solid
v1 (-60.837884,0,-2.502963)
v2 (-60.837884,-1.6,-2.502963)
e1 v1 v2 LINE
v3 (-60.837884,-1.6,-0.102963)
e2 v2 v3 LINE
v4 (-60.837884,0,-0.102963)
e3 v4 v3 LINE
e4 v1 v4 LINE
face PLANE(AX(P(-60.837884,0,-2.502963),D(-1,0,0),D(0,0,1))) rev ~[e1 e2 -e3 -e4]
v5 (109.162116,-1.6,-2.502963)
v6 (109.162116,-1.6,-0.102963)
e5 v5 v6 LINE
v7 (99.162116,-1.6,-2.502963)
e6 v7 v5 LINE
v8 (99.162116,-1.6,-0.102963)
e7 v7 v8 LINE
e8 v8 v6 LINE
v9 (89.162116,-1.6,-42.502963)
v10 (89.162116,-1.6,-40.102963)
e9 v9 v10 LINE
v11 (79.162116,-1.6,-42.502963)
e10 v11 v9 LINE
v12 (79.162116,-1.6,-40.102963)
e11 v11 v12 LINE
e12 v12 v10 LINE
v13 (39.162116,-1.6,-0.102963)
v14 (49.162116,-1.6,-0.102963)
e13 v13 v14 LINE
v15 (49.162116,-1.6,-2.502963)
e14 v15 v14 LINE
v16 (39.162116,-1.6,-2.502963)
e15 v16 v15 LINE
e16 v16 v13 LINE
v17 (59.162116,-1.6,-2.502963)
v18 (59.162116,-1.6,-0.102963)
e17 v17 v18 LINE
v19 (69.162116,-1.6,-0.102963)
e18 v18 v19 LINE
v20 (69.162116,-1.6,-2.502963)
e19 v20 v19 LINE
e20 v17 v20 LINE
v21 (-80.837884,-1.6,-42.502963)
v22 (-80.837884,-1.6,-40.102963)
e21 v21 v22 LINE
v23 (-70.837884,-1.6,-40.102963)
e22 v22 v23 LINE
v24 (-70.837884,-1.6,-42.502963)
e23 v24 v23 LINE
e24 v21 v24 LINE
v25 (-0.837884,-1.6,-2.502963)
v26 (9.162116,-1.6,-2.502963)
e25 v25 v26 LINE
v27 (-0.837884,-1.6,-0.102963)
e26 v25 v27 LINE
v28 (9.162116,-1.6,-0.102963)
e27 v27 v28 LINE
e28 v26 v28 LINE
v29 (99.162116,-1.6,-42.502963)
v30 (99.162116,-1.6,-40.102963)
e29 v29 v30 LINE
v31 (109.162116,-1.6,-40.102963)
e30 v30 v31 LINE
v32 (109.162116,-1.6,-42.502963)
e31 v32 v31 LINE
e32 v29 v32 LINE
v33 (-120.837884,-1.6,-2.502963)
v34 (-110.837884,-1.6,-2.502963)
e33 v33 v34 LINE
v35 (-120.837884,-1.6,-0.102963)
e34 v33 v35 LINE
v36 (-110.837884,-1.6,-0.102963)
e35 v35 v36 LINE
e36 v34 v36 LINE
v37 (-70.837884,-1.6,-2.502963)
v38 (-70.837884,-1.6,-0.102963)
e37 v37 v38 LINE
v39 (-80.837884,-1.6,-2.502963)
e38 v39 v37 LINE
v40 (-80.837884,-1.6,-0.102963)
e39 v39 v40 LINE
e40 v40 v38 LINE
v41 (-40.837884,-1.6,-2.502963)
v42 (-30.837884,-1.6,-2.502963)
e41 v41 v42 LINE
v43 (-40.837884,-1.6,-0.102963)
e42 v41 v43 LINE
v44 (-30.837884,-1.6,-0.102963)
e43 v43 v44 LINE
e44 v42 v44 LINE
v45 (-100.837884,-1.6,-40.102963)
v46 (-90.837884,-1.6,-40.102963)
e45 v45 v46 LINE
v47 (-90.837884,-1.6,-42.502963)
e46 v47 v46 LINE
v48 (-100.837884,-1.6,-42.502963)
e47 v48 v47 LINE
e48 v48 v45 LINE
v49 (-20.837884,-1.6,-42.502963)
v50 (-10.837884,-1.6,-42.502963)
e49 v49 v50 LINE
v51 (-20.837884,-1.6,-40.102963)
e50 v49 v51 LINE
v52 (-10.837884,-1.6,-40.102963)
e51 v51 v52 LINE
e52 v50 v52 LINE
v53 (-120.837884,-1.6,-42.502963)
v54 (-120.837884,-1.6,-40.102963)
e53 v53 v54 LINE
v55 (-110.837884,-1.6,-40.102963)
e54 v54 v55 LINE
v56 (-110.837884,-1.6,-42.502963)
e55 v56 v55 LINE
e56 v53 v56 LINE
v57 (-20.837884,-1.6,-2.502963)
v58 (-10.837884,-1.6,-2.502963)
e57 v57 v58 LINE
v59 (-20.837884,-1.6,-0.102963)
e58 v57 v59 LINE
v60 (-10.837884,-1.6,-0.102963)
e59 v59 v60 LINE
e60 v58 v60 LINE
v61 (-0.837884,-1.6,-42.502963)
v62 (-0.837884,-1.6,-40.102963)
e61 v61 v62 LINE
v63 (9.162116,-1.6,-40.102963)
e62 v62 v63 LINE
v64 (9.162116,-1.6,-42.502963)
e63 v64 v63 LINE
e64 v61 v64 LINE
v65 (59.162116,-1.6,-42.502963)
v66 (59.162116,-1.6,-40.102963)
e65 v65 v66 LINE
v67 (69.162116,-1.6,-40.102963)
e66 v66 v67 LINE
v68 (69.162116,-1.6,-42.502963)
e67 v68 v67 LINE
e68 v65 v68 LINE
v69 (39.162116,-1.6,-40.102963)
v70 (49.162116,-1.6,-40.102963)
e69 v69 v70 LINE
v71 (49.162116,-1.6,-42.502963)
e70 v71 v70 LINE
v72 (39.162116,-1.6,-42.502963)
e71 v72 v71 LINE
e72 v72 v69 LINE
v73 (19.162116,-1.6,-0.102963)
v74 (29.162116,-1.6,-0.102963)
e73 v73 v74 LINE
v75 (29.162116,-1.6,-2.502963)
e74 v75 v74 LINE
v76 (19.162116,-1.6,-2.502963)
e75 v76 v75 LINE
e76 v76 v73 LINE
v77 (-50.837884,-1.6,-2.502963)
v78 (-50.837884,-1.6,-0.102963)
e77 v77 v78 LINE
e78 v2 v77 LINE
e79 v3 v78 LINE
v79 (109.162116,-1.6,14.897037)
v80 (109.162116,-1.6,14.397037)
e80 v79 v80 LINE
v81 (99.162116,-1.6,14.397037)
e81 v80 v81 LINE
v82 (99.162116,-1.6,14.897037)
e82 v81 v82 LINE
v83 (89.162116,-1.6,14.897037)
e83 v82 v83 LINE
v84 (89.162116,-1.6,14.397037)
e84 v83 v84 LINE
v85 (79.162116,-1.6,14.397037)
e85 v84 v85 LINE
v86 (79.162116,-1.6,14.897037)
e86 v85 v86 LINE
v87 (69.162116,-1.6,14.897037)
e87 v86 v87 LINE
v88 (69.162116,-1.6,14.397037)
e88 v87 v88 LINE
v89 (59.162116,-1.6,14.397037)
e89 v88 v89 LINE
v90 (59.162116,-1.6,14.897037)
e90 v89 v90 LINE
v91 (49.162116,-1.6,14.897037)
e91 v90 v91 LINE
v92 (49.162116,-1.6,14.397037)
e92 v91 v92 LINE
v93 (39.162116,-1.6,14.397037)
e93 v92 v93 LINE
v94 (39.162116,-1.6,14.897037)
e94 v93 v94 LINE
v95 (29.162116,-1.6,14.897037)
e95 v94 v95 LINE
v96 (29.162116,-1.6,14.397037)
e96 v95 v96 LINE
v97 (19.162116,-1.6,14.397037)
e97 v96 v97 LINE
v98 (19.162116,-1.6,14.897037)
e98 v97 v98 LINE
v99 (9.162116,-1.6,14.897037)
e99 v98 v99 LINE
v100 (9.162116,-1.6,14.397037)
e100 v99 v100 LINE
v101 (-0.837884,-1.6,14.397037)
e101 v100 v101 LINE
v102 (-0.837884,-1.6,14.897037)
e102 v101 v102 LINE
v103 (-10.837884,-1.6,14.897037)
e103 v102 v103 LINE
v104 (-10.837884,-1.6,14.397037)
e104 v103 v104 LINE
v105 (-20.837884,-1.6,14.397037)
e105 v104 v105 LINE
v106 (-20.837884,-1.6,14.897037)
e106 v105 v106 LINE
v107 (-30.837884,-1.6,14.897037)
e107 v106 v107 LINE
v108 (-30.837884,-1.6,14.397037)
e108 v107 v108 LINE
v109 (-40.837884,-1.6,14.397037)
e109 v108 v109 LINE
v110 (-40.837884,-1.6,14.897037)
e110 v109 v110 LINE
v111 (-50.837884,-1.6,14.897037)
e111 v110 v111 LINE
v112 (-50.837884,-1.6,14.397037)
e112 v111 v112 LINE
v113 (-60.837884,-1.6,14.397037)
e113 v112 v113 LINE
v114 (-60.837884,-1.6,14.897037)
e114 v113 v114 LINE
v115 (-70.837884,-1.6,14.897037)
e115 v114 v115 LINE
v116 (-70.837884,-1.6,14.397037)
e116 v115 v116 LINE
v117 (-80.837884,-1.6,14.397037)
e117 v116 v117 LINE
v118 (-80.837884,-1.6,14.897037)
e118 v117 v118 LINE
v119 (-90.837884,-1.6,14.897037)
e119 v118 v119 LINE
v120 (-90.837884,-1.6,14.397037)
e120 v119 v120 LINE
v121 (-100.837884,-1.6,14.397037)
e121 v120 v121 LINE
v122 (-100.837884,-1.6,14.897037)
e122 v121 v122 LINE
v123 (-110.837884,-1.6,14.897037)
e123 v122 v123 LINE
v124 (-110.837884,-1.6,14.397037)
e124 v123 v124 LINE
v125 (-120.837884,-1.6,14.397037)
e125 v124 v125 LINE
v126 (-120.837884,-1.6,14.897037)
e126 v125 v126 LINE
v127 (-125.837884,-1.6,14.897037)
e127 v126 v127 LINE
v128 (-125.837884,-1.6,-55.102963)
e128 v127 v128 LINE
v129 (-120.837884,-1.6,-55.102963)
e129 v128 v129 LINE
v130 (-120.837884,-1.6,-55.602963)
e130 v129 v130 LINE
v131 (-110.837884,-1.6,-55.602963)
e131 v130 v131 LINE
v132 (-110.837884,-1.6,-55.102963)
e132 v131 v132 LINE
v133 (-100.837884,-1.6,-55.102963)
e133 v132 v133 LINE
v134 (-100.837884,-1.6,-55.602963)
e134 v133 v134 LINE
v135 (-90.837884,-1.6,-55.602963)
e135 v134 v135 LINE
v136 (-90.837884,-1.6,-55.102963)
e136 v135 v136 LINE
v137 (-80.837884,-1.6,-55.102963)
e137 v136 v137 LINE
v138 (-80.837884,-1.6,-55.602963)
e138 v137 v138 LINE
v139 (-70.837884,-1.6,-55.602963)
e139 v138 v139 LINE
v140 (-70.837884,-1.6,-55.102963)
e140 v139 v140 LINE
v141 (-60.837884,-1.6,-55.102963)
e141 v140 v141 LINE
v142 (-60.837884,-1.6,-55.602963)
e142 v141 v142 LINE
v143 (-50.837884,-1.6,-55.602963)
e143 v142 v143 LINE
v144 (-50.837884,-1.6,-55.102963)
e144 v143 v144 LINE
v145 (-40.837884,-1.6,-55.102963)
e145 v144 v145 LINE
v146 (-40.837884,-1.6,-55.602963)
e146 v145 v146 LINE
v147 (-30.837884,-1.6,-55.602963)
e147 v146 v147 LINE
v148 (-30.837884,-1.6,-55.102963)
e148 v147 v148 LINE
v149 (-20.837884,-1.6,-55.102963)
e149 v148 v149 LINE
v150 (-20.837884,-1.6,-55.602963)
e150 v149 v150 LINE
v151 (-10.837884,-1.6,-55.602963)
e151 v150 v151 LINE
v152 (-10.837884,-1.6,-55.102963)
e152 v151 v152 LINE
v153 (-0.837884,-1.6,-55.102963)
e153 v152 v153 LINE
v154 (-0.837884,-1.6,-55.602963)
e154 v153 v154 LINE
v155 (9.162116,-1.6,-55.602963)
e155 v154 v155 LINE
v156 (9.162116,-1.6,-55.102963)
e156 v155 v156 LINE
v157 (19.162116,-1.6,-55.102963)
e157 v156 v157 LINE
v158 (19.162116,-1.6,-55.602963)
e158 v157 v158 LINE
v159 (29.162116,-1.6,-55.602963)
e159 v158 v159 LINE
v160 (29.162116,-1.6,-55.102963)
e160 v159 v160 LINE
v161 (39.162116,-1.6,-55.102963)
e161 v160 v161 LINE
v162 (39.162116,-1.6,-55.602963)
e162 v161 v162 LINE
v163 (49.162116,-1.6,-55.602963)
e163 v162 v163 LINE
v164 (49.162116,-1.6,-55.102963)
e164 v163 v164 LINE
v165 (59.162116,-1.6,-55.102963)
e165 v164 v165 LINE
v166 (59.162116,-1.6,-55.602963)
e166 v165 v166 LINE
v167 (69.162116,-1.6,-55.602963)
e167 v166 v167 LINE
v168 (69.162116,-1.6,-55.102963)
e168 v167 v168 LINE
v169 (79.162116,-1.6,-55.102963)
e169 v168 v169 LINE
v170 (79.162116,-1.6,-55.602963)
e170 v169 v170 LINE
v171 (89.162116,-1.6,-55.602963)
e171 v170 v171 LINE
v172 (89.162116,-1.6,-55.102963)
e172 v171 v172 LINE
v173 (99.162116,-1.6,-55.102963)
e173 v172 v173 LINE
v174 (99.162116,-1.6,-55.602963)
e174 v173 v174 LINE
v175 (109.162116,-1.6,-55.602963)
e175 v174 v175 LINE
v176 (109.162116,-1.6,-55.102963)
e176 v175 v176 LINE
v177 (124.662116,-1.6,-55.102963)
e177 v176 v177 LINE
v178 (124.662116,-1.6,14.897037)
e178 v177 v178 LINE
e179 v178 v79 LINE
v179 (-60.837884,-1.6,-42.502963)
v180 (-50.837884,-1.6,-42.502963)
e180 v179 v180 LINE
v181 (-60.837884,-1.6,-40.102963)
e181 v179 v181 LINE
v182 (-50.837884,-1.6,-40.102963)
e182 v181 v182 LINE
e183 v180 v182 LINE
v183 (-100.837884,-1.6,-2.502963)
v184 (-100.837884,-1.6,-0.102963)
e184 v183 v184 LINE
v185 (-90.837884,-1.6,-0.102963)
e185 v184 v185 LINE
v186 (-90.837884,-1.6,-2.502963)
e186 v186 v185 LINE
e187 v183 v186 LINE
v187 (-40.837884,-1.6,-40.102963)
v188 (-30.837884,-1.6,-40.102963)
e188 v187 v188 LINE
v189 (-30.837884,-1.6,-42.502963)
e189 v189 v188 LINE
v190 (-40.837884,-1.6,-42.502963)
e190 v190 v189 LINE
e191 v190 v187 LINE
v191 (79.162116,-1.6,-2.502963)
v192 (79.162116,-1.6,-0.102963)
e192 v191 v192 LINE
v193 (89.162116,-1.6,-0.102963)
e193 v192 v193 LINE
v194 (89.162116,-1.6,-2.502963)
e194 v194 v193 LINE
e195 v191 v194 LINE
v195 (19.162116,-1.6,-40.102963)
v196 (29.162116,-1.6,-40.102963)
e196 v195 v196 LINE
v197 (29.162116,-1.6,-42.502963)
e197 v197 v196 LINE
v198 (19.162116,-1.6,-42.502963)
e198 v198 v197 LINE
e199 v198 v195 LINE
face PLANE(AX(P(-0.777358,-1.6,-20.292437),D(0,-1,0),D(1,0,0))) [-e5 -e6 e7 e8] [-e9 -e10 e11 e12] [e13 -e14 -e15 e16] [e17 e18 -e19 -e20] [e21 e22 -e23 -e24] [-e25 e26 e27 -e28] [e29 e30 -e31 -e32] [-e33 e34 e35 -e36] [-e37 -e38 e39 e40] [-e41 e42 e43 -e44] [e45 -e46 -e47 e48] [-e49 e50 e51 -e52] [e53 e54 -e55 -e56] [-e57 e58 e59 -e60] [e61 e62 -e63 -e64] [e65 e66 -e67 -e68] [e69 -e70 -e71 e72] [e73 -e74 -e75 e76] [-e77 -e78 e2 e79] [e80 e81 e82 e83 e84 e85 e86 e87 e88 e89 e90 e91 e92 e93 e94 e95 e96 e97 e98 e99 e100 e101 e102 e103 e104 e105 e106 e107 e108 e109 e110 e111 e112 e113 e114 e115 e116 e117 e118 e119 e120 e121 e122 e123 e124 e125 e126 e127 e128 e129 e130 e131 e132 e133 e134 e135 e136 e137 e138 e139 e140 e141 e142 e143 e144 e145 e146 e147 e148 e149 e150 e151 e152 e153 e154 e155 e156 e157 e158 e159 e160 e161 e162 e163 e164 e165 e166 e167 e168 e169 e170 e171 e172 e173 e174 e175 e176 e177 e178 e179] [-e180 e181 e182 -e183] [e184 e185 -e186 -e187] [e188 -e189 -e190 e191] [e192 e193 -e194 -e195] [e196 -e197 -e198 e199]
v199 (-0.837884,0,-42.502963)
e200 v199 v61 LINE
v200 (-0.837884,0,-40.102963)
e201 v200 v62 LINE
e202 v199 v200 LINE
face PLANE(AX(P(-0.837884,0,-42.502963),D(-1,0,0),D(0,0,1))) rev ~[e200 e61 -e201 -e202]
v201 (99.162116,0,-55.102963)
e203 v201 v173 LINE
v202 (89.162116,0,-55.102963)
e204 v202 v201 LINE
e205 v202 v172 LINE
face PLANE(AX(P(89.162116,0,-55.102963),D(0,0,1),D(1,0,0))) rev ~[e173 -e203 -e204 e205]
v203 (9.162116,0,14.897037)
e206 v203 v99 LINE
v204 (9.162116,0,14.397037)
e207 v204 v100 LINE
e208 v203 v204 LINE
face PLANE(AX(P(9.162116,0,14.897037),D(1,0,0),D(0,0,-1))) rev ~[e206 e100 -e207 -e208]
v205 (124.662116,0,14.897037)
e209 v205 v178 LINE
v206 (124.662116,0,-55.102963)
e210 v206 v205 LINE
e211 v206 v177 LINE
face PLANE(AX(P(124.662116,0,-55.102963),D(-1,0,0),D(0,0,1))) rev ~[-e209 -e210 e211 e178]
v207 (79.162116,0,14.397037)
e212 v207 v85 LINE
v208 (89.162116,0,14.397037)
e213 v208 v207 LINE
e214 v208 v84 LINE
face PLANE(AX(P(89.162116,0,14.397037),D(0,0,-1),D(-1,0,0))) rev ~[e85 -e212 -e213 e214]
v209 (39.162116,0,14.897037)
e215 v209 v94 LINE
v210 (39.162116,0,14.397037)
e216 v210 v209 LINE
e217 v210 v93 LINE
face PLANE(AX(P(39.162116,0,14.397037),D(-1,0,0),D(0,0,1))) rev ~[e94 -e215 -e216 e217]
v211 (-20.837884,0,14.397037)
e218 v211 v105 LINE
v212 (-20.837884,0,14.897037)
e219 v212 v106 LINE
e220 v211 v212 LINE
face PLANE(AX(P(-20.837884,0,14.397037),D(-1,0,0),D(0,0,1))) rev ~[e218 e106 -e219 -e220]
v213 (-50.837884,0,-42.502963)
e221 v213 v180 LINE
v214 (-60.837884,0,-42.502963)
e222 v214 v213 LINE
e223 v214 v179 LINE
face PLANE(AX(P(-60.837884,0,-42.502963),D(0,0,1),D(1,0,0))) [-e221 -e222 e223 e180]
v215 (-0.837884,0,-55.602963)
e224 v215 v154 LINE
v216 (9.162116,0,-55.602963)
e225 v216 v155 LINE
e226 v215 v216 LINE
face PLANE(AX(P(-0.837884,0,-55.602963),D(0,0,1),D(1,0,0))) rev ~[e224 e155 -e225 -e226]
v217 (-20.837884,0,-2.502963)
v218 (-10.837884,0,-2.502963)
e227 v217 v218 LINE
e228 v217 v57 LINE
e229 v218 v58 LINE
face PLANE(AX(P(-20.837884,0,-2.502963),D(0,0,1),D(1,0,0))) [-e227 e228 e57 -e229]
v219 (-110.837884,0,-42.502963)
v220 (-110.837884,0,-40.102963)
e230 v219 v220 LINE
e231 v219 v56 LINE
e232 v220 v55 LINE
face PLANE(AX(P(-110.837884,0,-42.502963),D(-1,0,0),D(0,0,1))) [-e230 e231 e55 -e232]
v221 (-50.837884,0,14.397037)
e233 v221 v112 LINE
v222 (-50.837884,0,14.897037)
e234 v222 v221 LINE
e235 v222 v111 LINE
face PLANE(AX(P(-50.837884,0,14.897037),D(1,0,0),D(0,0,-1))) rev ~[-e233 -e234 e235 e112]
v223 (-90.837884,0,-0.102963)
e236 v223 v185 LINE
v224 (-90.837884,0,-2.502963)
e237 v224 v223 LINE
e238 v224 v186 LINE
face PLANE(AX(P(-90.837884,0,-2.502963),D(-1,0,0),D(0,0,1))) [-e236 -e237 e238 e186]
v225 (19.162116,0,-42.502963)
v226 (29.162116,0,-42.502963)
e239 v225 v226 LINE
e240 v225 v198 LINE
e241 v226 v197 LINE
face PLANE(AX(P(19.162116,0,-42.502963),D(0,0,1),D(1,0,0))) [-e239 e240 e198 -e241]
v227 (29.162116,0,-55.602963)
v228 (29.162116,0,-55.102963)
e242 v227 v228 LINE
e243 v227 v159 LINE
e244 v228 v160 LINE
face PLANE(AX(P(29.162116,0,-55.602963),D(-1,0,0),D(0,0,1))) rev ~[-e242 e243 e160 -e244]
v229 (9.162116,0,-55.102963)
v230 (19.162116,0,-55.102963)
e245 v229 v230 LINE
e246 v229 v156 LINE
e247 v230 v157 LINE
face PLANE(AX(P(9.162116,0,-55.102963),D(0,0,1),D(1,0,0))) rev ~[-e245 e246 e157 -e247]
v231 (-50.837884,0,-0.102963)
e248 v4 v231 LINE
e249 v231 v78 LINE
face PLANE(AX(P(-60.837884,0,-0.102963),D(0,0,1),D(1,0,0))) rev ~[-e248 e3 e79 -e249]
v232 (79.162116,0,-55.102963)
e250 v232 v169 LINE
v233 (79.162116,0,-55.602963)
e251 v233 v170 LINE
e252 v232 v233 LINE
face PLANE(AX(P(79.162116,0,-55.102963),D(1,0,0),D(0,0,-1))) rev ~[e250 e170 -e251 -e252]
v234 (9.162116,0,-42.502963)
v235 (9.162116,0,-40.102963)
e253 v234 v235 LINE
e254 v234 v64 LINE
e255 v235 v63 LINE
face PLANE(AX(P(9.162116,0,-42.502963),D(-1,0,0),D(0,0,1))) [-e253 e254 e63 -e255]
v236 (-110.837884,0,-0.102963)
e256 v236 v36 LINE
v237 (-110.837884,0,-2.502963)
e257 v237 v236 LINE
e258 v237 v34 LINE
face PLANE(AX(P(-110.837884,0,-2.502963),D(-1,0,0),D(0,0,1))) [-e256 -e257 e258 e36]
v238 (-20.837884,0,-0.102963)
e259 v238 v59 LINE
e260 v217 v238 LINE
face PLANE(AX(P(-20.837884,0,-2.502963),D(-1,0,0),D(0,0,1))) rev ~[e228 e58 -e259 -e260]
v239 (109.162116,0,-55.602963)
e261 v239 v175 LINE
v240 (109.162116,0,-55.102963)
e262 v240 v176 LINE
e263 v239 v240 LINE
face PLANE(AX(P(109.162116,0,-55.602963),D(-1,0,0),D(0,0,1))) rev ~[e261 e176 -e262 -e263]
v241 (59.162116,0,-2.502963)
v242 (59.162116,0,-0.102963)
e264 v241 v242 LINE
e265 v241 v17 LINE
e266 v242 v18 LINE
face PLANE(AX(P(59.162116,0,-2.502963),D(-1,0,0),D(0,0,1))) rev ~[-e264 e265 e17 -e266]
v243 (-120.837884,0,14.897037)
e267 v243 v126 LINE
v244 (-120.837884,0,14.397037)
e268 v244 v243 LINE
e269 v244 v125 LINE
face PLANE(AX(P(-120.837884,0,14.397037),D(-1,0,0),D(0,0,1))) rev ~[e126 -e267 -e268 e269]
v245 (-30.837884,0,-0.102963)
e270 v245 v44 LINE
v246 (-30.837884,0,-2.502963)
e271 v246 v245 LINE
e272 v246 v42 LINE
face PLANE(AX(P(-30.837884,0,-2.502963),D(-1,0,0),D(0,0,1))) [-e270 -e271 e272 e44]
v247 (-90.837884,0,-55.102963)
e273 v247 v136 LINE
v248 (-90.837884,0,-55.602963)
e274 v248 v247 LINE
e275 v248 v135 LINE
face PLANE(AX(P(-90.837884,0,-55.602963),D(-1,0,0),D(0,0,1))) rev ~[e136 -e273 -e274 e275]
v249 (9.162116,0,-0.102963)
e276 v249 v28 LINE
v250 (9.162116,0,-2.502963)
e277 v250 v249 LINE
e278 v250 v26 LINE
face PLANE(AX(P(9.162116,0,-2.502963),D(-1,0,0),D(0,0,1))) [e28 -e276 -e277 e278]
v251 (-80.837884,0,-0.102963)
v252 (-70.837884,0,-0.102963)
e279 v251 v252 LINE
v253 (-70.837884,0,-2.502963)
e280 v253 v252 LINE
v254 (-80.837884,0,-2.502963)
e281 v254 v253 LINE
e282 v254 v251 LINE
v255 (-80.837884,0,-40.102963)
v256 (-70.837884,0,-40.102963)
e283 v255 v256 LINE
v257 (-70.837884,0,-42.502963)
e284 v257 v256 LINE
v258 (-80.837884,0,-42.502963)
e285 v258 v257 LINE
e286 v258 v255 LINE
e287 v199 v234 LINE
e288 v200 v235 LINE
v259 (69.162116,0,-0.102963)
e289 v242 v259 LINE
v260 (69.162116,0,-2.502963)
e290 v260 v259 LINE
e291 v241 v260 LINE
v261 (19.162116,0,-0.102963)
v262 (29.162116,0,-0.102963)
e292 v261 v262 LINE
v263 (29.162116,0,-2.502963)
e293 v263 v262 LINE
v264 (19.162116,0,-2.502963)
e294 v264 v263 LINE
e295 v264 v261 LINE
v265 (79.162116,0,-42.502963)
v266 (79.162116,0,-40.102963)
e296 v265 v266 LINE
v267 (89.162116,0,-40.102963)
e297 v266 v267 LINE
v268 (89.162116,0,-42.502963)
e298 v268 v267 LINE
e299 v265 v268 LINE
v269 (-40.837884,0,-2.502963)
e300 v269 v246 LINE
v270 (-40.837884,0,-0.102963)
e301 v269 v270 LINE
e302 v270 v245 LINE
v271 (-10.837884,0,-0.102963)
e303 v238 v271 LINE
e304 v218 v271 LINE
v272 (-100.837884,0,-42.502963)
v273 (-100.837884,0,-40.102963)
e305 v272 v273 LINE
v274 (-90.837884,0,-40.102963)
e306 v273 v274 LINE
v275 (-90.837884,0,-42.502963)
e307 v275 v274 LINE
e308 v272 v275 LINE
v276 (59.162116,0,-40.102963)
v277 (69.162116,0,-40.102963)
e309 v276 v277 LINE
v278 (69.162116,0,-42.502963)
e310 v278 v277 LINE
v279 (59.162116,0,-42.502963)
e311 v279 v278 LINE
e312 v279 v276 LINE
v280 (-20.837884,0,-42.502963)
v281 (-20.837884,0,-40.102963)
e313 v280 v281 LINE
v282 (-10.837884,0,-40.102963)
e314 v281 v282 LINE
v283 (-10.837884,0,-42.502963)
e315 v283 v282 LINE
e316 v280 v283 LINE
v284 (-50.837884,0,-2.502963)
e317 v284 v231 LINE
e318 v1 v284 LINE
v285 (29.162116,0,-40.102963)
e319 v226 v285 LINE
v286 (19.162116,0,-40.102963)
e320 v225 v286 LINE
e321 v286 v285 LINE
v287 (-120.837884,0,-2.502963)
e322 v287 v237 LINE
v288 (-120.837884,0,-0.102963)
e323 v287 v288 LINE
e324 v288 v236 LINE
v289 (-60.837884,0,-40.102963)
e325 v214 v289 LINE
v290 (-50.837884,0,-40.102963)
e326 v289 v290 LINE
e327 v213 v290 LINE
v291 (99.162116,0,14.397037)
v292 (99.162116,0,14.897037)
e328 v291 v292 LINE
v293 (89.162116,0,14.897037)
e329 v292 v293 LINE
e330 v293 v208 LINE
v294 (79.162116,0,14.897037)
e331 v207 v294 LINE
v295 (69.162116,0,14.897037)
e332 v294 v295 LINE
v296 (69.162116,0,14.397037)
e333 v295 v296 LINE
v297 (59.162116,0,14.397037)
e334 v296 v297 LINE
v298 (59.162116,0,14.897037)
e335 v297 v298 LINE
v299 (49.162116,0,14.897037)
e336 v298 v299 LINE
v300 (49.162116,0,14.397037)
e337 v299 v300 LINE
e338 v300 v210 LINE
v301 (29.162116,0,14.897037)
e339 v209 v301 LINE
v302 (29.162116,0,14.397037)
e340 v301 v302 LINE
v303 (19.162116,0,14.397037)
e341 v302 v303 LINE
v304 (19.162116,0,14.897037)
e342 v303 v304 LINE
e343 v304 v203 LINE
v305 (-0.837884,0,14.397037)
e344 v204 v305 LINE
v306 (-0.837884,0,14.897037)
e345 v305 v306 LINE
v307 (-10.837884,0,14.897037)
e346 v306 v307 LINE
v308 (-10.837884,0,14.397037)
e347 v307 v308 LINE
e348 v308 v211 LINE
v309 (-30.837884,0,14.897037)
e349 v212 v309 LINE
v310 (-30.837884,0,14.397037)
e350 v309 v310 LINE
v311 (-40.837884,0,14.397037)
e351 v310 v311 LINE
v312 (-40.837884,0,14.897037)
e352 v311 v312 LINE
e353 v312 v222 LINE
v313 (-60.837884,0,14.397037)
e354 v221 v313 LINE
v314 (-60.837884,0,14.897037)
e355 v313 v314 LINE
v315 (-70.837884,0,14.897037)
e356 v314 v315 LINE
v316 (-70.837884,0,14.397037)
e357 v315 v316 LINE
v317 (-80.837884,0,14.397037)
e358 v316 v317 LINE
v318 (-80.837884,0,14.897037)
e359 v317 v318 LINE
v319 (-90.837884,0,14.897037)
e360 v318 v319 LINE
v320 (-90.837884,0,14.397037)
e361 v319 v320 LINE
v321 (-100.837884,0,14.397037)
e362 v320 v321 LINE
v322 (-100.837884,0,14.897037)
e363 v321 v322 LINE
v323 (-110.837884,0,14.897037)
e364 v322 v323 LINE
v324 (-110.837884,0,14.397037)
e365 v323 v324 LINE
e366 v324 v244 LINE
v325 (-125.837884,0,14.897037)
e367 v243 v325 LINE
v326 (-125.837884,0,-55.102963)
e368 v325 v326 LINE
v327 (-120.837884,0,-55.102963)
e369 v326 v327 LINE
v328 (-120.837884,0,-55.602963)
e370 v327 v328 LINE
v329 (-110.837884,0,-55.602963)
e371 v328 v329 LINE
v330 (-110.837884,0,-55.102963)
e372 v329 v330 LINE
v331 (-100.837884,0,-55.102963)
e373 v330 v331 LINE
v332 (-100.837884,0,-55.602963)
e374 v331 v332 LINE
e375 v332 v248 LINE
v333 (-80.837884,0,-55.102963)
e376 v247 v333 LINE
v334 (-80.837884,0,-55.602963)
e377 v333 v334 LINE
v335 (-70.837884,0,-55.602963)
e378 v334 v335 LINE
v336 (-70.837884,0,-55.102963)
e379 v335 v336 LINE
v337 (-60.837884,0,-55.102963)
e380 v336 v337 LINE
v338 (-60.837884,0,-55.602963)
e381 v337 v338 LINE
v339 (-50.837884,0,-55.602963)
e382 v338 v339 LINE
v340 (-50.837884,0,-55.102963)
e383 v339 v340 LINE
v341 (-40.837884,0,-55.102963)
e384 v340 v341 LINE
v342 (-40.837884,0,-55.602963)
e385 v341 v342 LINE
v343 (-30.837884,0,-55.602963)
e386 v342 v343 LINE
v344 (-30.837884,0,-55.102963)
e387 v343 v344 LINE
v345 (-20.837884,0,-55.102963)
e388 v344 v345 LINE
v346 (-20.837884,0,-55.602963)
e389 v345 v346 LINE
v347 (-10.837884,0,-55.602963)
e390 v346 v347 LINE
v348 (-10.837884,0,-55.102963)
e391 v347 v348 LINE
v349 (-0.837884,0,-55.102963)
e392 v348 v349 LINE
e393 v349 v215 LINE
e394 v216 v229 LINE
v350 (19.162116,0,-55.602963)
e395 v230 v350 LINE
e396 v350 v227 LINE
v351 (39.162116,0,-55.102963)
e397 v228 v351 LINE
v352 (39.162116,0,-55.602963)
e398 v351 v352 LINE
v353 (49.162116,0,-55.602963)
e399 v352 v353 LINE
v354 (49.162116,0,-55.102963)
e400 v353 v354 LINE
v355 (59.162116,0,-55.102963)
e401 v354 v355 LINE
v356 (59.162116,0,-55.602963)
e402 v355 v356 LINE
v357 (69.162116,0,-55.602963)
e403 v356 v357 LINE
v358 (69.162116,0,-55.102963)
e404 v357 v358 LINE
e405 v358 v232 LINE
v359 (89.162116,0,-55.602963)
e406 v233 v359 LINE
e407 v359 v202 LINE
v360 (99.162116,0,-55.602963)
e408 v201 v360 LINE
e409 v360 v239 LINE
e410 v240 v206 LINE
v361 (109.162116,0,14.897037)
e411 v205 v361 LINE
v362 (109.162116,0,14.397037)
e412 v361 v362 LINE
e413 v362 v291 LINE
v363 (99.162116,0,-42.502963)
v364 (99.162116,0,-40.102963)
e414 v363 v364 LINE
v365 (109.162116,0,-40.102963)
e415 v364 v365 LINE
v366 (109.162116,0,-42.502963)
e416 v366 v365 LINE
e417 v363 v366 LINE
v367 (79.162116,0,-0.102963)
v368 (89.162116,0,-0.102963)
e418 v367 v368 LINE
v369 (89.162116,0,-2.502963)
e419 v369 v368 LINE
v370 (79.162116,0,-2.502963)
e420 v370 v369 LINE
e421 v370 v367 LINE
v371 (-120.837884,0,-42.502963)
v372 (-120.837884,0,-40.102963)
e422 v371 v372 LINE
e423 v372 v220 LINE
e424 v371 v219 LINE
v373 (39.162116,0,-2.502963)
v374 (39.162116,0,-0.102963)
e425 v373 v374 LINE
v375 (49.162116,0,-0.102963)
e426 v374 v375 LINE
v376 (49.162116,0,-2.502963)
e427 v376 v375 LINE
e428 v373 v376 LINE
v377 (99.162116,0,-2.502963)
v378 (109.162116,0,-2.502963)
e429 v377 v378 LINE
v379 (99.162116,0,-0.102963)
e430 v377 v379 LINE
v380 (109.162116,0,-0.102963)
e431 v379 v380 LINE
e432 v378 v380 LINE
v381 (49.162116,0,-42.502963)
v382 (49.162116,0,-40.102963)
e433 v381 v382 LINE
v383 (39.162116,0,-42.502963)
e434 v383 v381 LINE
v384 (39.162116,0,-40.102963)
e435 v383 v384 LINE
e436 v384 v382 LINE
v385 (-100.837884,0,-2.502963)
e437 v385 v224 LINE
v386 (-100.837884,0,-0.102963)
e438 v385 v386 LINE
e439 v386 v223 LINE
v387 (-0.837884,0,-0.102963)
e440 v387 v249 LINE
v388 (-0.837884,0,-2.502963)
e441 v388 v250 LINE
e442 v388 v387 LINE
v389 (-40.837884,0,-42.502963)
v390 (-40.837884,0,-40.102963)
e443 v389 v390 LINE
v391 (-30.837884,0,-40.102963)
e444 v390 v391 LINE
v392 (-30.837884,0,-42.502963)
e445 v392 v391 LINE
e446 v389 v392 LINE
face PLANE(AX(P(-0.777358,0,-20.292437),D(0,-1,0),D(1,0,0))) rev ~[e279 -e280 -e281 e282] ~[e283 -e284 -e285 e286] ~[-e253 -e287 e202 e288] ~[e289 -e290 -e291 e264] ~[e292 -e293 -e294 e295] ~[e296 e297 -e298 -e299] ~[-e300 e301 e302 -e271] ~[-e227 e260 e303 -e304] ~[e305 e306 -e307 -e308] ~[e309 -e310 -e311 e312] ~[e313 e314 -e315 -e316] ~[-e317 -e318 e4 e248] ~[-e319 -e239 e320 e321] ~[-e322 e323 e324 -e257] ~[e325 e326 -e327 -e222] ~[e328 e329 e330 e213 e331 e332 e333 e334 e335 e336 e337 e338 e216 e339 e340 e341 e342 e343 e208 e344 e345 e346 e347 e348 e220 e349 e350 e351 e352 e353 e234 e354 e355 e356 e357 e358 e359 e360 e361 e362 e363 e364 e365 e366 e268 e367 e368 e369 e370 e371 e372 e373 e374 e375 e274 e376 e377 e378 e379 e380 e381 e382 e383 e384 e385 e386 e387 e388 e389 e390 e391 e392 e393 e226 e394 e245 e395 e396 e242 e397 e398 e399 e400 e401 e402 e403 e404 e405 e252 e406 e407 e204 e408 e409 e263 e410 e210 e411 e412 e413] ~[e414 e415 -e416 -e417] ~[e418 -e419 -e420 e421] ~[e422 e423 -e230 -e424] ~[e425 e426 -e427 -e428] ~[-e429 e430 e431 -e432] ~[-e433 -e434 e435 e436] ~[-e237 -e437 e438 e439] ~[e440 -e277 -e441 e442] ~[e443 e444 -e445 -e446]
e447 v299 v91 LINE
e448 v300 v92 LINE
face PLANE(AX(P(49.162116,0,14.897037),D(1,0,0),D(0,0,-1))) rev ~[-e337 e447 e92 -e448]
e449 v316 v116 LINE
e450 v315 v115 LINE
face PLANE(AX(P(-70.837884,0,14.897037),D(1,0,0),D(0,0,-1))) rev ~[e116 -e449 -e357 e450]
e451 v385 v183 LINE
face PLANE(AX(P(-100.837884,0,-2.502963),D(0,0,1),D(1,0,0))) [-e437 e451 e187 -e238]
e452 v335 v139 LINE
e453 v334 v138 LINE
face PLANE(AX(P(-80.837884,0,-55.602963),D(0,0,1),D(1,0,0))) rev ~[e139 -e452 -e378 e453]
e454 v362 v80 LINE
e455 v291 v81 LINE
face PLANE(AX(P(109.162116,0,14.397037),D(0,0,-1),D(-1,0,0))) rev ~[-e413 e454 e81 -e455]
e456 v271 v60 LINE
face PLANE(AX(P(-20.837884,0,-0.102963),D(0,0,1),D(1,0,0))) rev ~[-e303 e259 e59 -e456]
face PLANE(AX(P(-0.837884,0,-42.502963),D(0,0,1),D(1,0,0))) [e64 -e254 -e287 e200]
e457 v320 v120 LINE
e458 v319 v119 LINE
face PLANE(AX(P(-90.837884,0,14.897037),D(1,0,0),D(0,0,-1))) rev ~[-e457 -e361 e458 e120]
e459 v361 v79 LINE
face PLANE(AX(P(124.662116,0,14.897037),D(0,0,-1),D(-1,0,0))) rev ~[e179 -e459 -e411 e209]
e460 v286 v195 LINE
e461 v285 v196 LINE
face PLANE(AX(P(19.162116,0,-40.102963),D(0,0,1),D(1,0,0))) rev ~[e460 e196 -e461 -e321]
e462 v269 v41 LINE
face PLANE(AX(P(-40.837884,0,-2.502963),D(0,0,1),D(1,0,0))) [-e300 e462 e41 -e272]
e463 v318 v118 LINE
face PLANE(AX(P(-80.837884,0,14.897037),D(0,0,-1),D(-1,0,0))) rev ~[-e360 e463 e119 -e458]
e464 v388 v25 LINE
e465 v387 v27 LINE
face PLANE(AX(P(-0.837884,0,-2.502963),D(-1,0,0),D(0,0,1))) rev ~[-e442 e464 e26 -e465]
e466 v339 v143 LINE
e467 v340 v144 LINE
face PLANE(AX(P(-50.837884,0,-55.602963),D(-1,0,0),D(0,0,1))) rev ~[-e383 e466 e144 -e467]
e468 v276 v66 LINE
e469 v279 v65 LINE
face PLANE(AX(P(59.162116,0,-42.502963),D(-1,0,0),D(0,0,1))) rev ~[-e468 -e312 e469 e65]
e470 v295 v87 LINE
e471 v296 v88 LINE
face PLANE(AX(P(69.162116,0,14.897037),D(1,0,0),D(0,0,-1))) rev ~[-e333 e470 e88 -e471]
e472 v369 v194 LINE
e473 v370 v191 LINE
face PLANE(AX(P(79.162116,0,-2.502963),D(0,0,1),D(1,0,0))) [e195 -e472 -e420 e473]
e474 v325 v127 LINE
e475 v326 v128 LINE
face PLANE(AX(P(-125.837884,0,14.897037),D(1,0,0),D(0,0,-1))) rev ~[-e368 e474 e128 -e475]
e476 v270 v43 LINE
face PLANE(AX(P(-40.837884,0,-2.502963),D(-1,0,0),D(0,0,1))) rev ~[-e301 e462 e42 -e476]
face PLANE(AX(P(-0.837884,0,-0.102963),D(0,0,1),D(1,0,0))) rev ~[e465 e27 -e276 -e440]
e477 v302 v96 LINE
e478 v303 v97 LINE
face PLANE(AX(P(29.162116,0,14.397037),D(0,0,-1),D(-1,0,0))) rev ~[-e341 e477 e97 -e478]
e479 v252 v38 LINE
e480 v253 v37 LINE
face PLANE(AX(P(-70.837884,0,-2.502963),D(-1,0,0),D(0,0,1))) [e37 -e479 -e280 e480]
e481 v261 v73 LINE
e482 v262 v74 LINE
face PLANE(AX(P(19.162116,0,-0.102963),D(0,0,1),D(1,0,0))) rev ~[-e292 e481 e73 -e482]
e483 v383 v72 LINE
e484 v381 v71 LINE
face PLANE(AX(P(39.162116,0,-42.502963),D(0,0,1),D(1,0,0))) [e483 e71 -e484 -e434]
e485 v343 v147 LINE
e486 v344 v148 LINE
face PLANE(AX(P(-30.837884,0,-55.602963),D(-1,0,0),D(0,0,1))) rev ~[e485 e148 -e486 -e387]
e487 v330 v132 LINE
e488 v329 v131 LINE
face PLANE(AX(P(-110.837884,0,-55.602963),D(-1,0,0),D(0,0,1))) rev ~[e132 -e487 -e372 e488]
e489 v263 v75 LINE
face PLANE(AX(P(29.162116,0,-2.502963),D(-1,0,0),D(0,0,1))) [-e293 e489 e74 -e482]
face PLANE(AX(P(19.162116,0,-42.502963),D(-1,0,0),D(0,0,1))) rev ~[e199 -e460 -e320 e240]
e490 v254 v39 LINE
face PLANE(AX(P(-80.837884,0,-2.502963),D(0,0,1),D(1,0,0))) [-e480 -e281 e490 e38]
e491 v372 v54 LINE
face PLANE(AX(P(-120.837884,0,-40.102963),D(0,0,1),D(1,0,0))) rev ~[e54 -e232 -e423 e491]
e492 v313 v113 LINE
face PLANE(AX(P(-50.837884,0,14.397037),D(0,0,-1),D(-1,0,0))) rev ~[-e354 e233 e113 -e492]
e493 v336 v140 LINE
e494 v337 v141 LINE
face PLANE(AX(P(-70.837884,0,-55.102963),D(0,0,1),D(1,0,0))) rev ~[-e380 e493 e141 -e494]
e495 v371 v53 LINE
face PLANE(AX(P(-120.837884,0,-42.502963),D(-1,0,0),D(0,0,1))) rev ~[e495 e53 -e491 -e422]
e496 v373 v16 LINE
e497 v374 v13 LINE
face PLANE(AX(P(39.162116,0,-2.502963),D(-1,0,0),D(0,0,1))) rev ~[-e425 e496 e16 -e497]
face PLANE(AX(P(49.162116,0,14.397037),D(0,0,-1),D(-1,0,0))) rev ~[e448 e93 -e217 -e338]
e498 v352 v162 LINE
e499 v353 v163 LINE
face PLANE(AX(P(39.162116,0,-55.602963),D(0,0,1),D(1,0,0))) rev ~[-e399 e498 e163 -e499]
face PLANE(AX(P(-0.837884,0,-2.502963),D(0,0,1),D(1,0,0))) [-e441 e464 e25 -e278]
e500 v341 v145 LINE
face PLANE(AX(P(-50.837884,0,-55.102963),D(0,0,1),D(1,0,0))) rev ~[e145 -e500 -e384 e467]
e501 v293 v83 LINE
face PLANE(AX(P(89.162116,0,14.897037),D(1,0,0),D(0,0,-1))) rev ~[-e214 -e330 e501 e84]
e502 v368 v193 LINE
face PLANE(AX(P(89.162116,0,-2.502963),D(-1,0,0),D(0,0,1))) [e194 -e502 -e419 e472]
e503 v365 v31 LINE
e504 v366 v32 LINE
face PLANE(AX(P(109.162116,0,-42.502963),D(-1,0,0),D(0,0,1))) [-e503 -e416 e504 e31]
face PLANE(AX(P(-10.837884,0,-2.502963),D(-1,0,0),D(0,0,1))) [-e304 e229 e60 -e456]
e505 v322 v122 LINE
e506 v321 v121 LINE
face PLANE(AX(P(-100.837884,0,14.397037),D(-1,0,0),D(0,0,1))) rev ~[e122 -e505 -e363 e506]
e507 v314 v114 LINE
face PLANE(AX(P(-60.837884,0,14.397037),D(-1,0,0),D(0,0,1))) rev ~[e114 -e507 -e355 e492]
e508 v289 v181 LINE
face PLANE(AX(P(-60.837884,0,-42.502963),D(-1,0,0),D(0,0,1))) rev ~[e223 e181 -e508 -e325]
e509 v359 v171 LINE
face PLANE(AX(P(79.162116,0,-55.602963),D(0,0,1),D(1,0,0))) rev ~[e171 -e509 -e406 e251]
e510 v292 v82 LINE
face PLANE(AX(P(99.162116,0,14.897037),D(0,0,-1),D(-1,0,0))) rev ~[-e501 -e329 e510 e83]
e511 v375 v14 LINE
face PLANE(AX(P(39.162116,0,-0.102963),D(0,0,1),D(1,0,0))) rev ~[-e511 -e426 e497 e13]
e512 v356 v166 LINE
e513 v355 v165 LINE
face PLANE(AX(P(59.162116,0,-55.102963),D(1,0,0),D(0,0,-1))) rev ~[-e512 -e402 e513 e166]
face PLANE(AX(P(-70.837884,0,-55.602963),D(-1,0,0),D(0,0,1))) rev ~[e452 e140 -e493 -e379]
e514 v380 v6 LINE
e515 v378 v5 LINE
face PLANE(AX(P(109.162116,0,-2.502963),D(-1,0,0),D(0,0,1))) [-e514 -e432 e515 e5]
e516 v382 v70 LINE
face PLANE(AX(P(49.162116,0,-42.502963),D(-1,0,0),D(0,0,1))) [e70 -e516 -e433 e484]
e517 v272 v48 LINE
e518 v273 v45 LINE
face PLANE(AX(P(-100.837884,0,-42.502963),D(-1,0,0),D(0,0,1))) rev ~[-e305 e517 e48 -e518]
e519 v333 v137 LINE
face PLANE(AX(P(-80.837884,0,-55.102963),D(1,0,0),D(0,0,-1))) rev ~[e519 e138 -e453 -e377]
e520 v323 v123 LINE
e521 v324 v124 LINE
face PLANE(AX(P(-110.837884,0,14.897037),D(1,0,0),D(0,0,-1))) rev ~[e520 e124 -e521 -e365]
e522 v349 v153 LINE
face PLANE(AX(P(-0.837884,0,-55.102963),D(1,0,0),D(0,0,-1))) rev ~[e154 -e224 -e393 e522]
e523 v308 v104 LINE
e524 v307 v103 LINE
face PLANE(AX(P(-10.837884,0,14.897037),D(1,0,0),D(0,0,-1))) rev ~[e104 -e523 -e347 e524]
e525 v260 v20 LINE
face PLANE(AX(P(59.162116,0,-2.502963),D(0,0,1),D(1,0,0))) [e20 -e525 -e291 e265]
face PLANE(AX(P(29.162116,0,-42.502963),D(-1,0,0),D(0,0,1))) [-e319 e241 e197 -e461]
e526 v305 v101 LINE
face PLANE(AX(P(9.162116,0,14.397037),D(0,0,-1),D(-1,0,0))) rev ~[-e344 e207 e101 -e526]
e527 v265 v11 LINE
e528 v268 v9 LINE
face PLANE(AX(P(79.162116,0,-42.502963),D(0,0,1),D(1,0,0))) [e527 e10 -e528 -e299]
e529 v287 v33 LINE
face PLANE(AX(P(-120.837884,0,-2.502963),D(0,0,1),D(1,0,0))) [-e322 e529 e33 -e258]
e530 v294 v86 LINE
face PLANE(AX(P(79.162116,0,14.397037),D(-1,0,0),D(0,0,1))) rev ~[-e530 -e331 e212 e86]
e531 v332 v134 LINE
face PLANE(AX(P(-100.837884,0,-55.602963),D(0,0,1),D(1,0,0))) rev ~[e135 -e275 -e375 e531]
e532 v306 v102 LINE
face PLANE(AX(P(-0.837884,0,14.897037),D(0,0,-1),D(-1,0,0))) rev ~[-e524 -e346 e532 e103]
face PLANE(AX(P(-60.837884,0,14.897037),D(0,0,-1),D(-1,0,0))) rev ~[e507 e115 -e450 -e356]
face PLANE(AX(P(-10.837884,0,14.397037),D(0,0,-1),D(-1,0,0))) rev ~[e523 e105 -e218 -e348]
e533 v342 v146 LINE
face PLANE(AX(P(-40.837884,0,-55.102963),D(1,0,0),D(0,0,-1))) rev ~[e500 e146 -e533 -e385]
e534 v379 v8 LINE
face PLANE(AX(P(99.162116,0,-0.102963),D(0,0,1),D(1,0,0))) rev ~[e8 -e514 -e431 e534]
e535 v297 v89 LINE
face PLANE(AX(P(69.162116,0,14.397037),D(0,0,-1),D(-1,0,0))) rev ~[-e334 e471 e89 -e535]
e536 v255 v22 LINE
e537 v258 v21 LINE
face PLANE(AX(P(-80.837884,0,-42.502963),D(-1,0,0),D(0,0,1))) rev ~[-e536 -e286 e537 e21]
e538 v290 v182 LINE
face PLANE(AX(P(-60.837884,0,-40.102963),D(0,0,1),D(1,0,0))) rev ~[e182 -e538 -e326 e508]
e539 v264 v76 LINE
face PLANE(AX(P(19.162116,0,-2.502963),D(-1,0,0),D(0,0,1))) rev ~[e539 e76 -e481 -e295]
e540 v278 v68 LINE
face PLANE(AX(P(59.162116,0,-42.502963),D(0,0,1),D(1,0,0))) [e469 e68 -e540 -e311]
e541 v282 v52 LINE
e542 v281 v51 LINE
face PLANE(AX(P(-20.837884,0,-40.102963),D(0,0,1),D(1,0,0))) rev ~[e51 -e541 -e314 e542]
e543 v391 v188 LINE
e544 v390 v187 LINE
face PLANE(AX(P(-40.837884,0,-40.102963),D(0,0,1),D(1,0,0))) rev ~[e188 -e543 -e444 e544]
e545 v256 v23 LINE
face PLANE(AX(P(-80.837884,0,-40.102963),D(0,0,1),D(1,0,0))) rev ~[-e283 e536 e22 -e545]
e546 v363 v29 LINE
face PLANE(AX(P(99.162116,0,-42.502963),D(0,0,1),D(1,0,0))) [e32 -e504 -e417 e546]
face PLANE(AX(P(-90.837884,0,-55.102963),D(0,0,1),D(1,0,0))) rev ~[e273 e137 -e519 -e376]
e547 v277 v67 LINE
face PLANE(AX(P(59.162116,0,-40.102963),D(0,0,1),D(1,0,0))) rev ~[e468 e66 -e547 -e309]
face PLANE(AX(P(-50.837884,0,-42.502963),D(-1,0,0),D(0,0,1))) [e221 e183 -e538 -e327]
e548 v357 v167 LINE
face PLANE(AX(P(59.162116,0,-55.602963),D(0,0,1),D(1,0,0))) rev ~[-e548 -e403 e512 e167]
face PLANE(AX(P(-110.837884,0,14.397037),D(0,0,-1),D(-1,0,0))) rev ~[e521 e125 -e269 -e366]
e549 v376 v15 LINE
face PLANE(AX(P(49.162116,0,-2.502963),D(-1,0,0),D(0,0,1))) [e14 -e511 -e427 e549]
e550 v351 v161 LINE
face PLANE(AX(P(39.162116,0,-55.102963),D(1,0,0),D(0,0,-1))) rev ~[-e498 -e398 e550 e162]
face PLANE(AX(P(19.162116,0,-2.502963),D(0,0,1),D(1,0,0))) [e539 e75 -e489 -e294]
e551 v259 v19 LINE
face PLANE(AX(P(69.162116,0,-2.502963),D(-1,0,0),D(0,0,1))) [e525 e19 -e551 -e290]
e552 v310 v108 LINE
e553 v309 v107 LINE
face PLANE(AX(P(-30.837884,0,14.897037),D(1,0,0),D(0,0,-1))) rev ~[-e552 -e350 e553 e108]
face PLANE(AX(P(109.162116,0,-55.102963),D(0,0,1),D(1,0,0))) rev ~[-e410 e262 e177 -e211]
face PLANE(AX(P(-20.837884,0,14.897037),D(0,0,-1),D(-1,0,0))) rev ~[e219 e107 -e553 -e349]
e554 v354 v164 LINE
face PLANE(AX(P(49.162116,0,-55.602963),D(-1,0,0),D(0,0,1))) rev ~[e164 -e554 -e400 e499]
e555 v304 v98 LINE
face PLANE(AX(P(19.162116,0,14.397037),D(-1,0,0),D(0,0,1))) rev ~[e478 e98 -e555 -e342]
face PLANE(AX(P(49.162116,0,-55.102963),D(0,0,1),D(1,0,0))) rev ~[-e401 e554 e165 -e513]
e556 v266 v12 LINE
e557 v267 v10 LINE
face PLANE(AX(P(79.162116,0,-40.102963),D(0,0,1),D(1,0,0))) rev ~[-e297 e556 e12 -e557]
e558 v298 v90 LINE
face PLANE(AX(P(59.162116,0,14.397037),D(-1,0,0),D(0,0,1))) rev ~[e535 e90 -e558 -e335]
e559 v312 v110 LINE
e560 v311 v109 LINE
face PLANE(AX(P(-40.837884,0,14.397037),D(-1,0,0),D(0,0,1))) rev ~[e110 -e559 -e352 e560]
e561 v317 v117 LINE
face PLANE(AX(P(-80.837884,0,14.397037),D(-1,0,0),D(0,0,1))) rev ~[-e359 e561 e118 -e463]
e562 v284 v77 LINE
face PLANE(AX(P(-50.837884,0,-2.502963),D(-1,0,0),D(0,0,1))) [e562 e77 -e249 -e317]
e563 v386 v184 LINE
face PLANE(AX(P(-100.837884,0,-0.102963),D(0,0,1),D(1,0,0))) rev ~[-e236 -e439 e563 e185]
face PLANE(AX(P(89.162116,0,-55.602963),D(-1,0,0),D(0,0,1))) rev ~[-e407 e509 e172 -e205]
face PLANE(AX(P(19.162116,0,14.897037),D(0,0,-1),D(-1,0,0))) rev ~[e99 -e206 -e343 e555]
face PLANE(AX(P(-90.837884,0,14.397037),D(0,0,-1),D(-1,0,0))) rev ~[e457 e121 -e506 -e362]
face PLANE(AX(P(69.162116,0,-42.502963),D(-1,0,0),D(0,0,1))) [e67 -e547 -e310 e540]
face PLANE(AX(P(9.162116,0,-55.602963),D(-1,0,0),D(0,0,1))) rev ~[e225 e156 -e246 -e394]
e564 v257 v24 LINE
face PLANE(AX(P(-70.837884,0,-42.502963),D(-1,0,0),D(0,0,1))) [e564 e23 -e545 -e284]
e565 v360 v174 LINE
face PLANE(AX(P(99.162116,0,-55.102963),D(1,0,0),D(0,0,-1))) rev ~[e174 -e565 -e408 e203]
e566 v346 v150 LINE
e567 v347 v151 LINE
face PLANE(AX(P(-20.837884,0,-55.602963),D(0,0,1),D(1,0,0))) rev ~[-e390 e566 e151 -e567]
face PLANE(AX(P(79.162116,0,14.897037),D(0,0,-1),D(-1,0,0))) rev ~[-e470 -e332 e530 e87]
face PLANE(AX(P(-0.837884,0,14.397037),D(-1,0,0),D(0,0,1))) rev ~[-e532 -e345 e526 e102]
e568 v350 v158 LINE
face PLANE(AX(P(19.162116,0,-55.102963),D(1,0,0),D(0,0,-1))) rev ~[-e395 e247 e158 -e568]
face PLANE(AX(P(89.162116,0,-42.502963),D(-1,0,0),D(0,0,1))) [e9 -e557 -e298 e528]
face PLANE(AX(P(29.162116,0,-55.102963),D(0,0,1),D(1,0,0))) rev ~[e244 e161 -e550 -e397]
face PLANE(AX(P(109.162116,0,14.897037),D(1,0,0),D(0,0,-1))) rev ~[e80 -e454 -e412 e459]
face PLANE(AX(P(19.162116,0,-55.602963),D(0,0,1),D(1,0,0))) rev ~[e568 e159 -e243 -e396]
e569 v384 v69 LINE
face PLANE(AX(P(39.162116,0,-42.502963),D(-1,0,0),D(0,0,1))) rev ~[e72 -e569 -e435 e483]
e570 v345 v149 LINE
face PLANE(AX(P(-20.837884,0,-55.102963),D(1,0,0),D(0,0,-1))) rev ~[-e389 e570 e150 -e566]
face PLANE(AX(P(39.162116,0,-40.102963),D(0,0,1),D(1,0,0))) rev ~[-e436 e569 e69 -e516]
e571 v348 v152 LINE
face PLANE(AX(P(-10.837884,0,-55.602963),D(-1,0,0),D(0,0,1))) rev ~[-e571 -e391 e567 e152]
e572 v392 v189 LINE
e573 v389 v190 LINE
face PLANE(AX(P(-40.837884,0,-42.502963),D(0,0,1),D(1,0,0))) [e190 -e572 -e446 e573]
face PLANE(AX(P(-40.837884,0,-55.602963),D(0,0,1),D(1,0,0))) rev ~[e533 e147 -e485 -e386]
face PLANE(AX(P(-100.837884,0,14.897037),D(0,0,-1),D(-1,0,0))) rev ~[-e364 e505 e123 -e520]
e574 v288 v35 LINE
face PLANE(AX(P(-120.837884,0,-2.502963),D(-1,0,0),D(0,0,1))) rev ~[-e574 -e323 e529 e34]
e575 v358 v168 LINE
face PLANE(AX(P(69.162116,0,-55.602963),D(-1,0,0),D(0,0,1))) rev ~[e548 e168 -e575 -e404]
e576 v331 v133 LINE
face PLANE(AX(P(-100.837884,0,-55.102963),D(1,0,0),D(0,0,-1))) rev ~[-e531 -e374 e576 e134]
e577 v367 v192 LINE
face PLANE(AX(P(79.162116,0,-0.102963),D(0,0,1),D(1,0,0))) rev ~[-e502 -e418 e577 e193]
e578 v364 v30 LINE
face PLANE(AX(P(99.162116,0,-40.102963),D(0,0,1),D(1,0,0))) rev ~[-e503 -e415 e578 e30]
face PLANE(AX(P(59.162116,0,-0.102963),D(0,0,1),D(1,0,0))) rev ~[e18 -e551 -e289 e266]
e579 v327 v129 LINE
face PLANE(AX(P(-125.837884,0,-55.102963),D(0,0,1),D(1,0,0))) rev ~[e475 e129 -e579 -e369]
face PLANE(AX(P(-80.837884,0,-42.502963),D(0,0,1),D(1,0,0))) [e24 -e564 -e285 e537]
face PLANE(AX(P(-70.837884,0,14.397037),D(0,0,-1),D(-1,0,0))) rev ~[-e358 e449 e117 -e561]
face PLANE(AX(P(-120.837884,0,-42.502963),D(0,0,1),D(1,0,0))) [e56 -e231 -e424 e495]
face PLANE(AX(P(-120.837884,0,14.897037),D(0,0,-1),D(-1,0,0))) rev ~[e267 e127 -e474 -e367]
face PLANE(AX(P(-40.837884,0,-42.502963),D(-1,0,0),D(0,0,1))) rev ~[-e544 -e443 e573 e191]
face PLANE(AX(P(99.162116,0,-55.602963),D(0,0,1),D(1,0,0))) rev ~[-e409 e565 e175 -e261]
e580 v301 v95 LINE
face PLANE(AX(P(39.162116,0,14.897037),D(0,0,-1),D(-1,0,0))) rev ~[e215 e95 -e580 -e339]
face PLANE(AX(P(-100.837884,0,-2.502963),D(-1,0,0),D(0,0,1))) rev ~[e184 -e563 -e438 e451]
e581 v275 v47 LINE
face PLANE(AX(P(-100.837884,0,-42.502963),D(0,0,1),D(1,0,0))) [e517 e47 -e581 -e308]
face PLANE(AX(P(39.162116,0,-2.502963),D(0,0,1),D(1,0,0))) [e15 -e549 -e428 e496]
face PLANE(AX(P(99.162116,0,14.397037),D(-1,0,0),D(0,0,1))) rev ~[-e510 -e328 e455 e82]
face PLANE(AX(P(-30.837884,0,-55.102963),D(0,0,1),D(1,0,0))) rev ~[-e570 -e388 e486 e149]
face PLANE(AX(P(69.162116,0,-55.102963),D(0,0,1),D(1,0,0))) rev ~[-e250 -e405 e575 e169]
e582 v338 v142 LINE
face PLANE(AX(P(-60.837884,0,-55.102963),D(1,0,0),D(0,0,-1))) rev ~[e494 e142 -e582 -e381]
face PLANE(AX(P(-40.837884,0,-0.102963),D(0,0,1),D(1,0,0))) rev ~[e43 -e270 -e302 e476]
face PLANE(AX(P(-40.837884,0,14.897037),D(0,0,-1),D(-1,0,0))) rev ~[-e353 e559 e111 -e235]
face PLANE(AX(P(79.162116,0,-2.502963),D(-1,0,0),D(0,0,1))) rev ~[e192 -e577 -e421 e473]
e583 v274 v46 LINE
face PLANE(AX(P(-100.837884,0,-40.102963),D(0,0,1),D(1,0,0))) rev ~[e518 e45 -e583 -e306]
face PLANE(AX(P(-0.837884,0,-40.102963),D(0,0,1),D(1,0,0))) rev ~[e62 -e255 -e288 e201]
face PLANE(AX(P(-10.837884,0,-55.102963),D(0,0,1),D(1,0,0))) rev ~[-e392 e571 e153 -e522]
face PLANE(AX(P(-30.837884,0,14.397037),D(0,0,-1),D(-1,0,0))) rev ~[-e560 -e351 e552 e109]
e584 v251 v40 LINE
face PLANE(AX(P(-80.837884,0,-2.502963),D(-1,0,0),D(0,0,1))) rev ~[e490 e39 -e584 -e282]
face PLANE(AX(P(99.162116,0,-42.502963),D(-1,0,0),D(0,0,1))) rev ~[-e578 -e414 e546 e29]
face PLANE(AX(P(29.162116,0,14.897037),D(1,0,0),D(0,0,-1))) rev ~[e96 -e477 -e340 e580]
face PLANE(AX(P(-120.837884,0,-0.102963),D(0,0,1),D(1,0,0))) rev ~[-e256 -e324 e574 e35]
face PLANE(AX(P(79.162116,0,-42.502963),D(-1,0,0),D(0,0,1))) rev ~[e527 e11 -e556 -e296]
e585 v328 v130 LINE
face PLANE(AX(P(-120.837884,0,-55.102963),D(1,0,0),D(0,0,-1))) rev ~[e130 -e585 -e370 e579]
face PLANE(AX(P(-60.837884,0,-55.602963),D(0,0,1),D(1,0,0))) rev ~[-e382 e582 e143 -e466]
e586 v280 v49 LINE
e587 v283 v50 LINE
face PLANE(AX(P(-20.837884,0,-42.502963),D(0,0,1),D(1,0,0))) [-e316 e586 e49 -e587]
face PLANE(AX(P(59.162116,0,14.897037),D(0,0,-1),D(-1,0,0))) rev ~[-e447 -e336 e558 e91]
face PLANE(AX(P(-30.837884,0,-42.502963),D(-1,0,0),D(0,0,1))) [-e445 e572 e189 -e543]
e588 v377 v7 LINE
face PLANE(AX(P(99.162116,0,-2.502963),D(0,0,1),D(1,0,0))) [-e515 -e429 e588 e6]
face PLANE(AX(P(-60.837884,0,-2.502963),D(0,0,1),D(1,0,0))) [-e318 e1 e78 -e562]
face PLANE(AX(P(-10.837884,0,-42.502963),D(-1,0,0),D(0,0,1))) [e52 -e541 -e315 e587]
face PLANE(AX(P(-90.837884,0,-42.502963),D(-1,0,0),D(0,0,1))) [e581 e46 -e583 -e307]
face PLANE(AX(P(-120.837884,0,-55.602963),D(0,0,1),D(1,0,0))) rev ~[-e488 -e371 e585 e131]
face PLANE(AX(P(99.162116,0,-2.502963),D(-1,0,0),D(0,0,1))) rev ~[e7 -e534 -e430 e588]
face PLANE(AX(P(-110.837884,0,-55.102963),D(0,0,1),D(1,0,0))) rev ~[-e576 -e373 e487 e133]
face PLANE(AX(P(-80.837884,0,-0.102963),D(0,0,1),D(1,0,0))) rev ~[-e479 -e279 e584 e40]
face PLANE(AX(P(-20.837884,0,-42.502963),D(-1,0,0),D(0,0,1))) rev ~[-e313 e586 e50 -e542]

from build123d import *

# Parameters (mm, degrees)
F0_W     = 10
F0_H     = 2.4
F1_DEPTH = 1.6


with BuildPart() as f1:
    # F0 (on Front) → F1 (new body)
    with BuildSketch(Plane.XZ):
        Polygon((-125.837884, 14.897037), (-125.837884, -55.102963), (-120.837884, -55.102963), (-120.837884, -55.602963), (-110.837884, -55.602963), (-110.837884, -55.102963), (-100.837884, -55.102963), (-100.837884, -55.602963), (-90.837884, -55.602963), (-90.837884, -55.102963), (-80.837884, -55.102963), (-80.837884, -55.602963), (-70.837884, -55.602963), (-70.837884, -55.102963), (-60.837884, -55.102963), (-60.837884, -55.602963), (-50.837884, -55.602963), (-50.837884, -55.102963), (-40.837884, -55.102963), (-40.837884, -55.602963), (-30.837884, -55.602963), (-30.837884, -55.102963), (-20.837884, -55.102963), (-20.837884, -55.602963), (-10.837884, -55.602963), (-10.837884, -55.102963), (-0.837884, -55.102963), (-0.837884, -55.602963), (9.162116, -55.602963), (9.162116, -55.102963), (19.162116, -55.102963), (19.162116, -55.602963), (29.162116, -55.602963), (29.162116, -55.102963), (39.162116, -55.102963), (39.162116, -55.602963), (49.162116, -55.602963), (49.162116, -55.102963), (59.162116, -55.102963), (59.162116, -55.602963), (69.162116, -55.602963), (69.162116, -55.102963), (79.162116, -55.102963), (79.162116, -55.602963), (89.162116, -55.602963), (89.162116, -55.102963), (99.162116, -55.102963), (99.162116, -55.602963), (109.162116, -55.602963), (109.162116, -55.102963), (124.662116, -55.102963), (124.662116, 14.897037), (119.162116, 14.897037), (109.162116, 14.897037), (109.162116, 14.397037), (99.162116, 14.397037), (99.162116, 14.897037), (89.162116, 14.897037), (89.162116, 14.397037), (79.162116, 14.397037), (79.162116, 14.897037), (69.162116, 14.897037), (69.162116, 14.397037), (59.162116, 14.397037), (59.162116, 14.897037), (49.162116, 14.897037), (49.162116, 14.397037), (39.162116, 14.397037), (39.162116, 14.897037), (29.162116, 14.897037), (29.162116, 14.397037), (19.162116, 14.397037), (19.162116, 14.897037), (9.162116, 14.897037), (9.162116, 14.397037), (-0.837884, 14.397037), (-0.837884, 14.897037), (-10.837884, 14.897037), (-10.837884, 14.397037), (-20.837884, 14.397037), (-20.837884, 14.897037), (-30.837884, 14.897037), (-30.837884, 14.397037), (-40.837884, 14.397037), (-40.837884, 14.897037), (-50.837884, 14.897037), (-50.837884, 14.397037), (-60.837884, 14.397037), (-60.837884, 14.897037), (-70.837884, 14.897037), (-70.837884, 14.397037), (-80.837884, 14.397037), (-80.837884, 14.897037), (-90.837884, 14.897037), (-90.837884, 14.397037), (-100.837884, 14.397037), (-100.837884, 14.897037), (-110.837884, 14.897037), (-110.837884, 14.397037), (-120.837884, 14.397037), (-120.837884, 14.897037), align=None)
        with Locations((-115.837884, -41.302963)):
            Rectangle(F0_W, F0_H, mode=Mode.SUBTRACT)
        with Locations((-95.837884, -41.302963)):
            Rectangle(F0_W, F0_H, mode=Mode.SUBTRACT)
        with Locations((-75.837884, -41.302963)):
            Rectangle(F0_W, F0_H, mode=Mode.SUBTRACT)
        with Locations((-55.837884, -41.302963)):
            Rectangle(F0_W, F0_H, mode=Mode.SUBTRACT)
        with Locations((-35.837884, -41.302963)):
            Rectangle(F0_W, F0_H, mode=Mode.SUBTRACT)
        with Locations((-15.837884, -41.302963)):
            Rectangle(F0_W, F0_H, mode=Mode.SUBTRACT)
        with Locations((4.162116, -41.302963)):
            Rectangle(F0_W, F0_H, mode=Mode.SUBTRACT)
        with Locations((24.162116, -41.302963)):
            Rectangle(F0_W, F0_H, mode=Mode.SUBTRACT)
        with Locations((44.162116, -41.302963)):
            Rectangle(F0_W, F0_H, mode=Mode.SUBTRACT)
        with Locations((64.162116, -41.302963)):
            Rectangle(F0_W, F0_H, mode=Mode.SUBTRACT)
        with Locations((84.162116, -41.302963)):
            Rectangle(F0_W, F0_H, mode=Mode.SUBTRACT)
        with Locations((104.162116, -41.302963)):
            Rectangle(F0_W, F0_H, mode=Mode.SUBTRACT)
        with Locations((-115.837884, -1.302963)):
            Rectangle(F0_W, F0_H, mode=Mode.SUBTRACT)
        with Locations((-95.837884, -1.302963)):
            Rectangle(F0_W, F0_H, mode=Mode.SUBTRACT)
        with Locations((-75.837884, -1.302963)):
            Rectangle(F0_W, F0_H, mode=Mode.SUBTRACT)
        with Locations((-55.837884, -1.302963)):
            Rectangle(F0_W, F0_H, mode=Mode.SUBTRACT)
        with Locations((-35.837884, -1.302963)):
            Rectangle(F0_W, F0_H, mode=Mode.SUBTRACT)
        with Locations((-15.837884, -1.302963)):
            Rectangle(F0_W, F0_H, mode=Mode.SUBTRACT)
        with Locations((4.162116, -1.302963)):
            Rectangle(F0_W, F0_H, mode=Mode.SUBTRACT)
        with Locations((24.162116, -1.302963)):
            Rectangle(F0_W, F0_H, mode=Mode.SUBTRACT)
        with Locations((44.162116, -1.302963)):
            Rectangle(F0_W, F0_H, mode=Mode.SUBTRACT)
        with Locations((64.162116, -1.302963)):
            Rectangle(F0_W, F0_H, mode=Mode.SUBTRACT)
        with Locations((84.162116, -1.302963)):
            Rectangle(F0_W, F0_H, mode=Mode.SUBTRACT)
        with Locations((104.162116, -1.302963)):
            Rectangle(F0_W, F0_H, mode=Mode.SUBTRACT)
    extrude(amount=F1_DEPTH)


solid = f1.part
